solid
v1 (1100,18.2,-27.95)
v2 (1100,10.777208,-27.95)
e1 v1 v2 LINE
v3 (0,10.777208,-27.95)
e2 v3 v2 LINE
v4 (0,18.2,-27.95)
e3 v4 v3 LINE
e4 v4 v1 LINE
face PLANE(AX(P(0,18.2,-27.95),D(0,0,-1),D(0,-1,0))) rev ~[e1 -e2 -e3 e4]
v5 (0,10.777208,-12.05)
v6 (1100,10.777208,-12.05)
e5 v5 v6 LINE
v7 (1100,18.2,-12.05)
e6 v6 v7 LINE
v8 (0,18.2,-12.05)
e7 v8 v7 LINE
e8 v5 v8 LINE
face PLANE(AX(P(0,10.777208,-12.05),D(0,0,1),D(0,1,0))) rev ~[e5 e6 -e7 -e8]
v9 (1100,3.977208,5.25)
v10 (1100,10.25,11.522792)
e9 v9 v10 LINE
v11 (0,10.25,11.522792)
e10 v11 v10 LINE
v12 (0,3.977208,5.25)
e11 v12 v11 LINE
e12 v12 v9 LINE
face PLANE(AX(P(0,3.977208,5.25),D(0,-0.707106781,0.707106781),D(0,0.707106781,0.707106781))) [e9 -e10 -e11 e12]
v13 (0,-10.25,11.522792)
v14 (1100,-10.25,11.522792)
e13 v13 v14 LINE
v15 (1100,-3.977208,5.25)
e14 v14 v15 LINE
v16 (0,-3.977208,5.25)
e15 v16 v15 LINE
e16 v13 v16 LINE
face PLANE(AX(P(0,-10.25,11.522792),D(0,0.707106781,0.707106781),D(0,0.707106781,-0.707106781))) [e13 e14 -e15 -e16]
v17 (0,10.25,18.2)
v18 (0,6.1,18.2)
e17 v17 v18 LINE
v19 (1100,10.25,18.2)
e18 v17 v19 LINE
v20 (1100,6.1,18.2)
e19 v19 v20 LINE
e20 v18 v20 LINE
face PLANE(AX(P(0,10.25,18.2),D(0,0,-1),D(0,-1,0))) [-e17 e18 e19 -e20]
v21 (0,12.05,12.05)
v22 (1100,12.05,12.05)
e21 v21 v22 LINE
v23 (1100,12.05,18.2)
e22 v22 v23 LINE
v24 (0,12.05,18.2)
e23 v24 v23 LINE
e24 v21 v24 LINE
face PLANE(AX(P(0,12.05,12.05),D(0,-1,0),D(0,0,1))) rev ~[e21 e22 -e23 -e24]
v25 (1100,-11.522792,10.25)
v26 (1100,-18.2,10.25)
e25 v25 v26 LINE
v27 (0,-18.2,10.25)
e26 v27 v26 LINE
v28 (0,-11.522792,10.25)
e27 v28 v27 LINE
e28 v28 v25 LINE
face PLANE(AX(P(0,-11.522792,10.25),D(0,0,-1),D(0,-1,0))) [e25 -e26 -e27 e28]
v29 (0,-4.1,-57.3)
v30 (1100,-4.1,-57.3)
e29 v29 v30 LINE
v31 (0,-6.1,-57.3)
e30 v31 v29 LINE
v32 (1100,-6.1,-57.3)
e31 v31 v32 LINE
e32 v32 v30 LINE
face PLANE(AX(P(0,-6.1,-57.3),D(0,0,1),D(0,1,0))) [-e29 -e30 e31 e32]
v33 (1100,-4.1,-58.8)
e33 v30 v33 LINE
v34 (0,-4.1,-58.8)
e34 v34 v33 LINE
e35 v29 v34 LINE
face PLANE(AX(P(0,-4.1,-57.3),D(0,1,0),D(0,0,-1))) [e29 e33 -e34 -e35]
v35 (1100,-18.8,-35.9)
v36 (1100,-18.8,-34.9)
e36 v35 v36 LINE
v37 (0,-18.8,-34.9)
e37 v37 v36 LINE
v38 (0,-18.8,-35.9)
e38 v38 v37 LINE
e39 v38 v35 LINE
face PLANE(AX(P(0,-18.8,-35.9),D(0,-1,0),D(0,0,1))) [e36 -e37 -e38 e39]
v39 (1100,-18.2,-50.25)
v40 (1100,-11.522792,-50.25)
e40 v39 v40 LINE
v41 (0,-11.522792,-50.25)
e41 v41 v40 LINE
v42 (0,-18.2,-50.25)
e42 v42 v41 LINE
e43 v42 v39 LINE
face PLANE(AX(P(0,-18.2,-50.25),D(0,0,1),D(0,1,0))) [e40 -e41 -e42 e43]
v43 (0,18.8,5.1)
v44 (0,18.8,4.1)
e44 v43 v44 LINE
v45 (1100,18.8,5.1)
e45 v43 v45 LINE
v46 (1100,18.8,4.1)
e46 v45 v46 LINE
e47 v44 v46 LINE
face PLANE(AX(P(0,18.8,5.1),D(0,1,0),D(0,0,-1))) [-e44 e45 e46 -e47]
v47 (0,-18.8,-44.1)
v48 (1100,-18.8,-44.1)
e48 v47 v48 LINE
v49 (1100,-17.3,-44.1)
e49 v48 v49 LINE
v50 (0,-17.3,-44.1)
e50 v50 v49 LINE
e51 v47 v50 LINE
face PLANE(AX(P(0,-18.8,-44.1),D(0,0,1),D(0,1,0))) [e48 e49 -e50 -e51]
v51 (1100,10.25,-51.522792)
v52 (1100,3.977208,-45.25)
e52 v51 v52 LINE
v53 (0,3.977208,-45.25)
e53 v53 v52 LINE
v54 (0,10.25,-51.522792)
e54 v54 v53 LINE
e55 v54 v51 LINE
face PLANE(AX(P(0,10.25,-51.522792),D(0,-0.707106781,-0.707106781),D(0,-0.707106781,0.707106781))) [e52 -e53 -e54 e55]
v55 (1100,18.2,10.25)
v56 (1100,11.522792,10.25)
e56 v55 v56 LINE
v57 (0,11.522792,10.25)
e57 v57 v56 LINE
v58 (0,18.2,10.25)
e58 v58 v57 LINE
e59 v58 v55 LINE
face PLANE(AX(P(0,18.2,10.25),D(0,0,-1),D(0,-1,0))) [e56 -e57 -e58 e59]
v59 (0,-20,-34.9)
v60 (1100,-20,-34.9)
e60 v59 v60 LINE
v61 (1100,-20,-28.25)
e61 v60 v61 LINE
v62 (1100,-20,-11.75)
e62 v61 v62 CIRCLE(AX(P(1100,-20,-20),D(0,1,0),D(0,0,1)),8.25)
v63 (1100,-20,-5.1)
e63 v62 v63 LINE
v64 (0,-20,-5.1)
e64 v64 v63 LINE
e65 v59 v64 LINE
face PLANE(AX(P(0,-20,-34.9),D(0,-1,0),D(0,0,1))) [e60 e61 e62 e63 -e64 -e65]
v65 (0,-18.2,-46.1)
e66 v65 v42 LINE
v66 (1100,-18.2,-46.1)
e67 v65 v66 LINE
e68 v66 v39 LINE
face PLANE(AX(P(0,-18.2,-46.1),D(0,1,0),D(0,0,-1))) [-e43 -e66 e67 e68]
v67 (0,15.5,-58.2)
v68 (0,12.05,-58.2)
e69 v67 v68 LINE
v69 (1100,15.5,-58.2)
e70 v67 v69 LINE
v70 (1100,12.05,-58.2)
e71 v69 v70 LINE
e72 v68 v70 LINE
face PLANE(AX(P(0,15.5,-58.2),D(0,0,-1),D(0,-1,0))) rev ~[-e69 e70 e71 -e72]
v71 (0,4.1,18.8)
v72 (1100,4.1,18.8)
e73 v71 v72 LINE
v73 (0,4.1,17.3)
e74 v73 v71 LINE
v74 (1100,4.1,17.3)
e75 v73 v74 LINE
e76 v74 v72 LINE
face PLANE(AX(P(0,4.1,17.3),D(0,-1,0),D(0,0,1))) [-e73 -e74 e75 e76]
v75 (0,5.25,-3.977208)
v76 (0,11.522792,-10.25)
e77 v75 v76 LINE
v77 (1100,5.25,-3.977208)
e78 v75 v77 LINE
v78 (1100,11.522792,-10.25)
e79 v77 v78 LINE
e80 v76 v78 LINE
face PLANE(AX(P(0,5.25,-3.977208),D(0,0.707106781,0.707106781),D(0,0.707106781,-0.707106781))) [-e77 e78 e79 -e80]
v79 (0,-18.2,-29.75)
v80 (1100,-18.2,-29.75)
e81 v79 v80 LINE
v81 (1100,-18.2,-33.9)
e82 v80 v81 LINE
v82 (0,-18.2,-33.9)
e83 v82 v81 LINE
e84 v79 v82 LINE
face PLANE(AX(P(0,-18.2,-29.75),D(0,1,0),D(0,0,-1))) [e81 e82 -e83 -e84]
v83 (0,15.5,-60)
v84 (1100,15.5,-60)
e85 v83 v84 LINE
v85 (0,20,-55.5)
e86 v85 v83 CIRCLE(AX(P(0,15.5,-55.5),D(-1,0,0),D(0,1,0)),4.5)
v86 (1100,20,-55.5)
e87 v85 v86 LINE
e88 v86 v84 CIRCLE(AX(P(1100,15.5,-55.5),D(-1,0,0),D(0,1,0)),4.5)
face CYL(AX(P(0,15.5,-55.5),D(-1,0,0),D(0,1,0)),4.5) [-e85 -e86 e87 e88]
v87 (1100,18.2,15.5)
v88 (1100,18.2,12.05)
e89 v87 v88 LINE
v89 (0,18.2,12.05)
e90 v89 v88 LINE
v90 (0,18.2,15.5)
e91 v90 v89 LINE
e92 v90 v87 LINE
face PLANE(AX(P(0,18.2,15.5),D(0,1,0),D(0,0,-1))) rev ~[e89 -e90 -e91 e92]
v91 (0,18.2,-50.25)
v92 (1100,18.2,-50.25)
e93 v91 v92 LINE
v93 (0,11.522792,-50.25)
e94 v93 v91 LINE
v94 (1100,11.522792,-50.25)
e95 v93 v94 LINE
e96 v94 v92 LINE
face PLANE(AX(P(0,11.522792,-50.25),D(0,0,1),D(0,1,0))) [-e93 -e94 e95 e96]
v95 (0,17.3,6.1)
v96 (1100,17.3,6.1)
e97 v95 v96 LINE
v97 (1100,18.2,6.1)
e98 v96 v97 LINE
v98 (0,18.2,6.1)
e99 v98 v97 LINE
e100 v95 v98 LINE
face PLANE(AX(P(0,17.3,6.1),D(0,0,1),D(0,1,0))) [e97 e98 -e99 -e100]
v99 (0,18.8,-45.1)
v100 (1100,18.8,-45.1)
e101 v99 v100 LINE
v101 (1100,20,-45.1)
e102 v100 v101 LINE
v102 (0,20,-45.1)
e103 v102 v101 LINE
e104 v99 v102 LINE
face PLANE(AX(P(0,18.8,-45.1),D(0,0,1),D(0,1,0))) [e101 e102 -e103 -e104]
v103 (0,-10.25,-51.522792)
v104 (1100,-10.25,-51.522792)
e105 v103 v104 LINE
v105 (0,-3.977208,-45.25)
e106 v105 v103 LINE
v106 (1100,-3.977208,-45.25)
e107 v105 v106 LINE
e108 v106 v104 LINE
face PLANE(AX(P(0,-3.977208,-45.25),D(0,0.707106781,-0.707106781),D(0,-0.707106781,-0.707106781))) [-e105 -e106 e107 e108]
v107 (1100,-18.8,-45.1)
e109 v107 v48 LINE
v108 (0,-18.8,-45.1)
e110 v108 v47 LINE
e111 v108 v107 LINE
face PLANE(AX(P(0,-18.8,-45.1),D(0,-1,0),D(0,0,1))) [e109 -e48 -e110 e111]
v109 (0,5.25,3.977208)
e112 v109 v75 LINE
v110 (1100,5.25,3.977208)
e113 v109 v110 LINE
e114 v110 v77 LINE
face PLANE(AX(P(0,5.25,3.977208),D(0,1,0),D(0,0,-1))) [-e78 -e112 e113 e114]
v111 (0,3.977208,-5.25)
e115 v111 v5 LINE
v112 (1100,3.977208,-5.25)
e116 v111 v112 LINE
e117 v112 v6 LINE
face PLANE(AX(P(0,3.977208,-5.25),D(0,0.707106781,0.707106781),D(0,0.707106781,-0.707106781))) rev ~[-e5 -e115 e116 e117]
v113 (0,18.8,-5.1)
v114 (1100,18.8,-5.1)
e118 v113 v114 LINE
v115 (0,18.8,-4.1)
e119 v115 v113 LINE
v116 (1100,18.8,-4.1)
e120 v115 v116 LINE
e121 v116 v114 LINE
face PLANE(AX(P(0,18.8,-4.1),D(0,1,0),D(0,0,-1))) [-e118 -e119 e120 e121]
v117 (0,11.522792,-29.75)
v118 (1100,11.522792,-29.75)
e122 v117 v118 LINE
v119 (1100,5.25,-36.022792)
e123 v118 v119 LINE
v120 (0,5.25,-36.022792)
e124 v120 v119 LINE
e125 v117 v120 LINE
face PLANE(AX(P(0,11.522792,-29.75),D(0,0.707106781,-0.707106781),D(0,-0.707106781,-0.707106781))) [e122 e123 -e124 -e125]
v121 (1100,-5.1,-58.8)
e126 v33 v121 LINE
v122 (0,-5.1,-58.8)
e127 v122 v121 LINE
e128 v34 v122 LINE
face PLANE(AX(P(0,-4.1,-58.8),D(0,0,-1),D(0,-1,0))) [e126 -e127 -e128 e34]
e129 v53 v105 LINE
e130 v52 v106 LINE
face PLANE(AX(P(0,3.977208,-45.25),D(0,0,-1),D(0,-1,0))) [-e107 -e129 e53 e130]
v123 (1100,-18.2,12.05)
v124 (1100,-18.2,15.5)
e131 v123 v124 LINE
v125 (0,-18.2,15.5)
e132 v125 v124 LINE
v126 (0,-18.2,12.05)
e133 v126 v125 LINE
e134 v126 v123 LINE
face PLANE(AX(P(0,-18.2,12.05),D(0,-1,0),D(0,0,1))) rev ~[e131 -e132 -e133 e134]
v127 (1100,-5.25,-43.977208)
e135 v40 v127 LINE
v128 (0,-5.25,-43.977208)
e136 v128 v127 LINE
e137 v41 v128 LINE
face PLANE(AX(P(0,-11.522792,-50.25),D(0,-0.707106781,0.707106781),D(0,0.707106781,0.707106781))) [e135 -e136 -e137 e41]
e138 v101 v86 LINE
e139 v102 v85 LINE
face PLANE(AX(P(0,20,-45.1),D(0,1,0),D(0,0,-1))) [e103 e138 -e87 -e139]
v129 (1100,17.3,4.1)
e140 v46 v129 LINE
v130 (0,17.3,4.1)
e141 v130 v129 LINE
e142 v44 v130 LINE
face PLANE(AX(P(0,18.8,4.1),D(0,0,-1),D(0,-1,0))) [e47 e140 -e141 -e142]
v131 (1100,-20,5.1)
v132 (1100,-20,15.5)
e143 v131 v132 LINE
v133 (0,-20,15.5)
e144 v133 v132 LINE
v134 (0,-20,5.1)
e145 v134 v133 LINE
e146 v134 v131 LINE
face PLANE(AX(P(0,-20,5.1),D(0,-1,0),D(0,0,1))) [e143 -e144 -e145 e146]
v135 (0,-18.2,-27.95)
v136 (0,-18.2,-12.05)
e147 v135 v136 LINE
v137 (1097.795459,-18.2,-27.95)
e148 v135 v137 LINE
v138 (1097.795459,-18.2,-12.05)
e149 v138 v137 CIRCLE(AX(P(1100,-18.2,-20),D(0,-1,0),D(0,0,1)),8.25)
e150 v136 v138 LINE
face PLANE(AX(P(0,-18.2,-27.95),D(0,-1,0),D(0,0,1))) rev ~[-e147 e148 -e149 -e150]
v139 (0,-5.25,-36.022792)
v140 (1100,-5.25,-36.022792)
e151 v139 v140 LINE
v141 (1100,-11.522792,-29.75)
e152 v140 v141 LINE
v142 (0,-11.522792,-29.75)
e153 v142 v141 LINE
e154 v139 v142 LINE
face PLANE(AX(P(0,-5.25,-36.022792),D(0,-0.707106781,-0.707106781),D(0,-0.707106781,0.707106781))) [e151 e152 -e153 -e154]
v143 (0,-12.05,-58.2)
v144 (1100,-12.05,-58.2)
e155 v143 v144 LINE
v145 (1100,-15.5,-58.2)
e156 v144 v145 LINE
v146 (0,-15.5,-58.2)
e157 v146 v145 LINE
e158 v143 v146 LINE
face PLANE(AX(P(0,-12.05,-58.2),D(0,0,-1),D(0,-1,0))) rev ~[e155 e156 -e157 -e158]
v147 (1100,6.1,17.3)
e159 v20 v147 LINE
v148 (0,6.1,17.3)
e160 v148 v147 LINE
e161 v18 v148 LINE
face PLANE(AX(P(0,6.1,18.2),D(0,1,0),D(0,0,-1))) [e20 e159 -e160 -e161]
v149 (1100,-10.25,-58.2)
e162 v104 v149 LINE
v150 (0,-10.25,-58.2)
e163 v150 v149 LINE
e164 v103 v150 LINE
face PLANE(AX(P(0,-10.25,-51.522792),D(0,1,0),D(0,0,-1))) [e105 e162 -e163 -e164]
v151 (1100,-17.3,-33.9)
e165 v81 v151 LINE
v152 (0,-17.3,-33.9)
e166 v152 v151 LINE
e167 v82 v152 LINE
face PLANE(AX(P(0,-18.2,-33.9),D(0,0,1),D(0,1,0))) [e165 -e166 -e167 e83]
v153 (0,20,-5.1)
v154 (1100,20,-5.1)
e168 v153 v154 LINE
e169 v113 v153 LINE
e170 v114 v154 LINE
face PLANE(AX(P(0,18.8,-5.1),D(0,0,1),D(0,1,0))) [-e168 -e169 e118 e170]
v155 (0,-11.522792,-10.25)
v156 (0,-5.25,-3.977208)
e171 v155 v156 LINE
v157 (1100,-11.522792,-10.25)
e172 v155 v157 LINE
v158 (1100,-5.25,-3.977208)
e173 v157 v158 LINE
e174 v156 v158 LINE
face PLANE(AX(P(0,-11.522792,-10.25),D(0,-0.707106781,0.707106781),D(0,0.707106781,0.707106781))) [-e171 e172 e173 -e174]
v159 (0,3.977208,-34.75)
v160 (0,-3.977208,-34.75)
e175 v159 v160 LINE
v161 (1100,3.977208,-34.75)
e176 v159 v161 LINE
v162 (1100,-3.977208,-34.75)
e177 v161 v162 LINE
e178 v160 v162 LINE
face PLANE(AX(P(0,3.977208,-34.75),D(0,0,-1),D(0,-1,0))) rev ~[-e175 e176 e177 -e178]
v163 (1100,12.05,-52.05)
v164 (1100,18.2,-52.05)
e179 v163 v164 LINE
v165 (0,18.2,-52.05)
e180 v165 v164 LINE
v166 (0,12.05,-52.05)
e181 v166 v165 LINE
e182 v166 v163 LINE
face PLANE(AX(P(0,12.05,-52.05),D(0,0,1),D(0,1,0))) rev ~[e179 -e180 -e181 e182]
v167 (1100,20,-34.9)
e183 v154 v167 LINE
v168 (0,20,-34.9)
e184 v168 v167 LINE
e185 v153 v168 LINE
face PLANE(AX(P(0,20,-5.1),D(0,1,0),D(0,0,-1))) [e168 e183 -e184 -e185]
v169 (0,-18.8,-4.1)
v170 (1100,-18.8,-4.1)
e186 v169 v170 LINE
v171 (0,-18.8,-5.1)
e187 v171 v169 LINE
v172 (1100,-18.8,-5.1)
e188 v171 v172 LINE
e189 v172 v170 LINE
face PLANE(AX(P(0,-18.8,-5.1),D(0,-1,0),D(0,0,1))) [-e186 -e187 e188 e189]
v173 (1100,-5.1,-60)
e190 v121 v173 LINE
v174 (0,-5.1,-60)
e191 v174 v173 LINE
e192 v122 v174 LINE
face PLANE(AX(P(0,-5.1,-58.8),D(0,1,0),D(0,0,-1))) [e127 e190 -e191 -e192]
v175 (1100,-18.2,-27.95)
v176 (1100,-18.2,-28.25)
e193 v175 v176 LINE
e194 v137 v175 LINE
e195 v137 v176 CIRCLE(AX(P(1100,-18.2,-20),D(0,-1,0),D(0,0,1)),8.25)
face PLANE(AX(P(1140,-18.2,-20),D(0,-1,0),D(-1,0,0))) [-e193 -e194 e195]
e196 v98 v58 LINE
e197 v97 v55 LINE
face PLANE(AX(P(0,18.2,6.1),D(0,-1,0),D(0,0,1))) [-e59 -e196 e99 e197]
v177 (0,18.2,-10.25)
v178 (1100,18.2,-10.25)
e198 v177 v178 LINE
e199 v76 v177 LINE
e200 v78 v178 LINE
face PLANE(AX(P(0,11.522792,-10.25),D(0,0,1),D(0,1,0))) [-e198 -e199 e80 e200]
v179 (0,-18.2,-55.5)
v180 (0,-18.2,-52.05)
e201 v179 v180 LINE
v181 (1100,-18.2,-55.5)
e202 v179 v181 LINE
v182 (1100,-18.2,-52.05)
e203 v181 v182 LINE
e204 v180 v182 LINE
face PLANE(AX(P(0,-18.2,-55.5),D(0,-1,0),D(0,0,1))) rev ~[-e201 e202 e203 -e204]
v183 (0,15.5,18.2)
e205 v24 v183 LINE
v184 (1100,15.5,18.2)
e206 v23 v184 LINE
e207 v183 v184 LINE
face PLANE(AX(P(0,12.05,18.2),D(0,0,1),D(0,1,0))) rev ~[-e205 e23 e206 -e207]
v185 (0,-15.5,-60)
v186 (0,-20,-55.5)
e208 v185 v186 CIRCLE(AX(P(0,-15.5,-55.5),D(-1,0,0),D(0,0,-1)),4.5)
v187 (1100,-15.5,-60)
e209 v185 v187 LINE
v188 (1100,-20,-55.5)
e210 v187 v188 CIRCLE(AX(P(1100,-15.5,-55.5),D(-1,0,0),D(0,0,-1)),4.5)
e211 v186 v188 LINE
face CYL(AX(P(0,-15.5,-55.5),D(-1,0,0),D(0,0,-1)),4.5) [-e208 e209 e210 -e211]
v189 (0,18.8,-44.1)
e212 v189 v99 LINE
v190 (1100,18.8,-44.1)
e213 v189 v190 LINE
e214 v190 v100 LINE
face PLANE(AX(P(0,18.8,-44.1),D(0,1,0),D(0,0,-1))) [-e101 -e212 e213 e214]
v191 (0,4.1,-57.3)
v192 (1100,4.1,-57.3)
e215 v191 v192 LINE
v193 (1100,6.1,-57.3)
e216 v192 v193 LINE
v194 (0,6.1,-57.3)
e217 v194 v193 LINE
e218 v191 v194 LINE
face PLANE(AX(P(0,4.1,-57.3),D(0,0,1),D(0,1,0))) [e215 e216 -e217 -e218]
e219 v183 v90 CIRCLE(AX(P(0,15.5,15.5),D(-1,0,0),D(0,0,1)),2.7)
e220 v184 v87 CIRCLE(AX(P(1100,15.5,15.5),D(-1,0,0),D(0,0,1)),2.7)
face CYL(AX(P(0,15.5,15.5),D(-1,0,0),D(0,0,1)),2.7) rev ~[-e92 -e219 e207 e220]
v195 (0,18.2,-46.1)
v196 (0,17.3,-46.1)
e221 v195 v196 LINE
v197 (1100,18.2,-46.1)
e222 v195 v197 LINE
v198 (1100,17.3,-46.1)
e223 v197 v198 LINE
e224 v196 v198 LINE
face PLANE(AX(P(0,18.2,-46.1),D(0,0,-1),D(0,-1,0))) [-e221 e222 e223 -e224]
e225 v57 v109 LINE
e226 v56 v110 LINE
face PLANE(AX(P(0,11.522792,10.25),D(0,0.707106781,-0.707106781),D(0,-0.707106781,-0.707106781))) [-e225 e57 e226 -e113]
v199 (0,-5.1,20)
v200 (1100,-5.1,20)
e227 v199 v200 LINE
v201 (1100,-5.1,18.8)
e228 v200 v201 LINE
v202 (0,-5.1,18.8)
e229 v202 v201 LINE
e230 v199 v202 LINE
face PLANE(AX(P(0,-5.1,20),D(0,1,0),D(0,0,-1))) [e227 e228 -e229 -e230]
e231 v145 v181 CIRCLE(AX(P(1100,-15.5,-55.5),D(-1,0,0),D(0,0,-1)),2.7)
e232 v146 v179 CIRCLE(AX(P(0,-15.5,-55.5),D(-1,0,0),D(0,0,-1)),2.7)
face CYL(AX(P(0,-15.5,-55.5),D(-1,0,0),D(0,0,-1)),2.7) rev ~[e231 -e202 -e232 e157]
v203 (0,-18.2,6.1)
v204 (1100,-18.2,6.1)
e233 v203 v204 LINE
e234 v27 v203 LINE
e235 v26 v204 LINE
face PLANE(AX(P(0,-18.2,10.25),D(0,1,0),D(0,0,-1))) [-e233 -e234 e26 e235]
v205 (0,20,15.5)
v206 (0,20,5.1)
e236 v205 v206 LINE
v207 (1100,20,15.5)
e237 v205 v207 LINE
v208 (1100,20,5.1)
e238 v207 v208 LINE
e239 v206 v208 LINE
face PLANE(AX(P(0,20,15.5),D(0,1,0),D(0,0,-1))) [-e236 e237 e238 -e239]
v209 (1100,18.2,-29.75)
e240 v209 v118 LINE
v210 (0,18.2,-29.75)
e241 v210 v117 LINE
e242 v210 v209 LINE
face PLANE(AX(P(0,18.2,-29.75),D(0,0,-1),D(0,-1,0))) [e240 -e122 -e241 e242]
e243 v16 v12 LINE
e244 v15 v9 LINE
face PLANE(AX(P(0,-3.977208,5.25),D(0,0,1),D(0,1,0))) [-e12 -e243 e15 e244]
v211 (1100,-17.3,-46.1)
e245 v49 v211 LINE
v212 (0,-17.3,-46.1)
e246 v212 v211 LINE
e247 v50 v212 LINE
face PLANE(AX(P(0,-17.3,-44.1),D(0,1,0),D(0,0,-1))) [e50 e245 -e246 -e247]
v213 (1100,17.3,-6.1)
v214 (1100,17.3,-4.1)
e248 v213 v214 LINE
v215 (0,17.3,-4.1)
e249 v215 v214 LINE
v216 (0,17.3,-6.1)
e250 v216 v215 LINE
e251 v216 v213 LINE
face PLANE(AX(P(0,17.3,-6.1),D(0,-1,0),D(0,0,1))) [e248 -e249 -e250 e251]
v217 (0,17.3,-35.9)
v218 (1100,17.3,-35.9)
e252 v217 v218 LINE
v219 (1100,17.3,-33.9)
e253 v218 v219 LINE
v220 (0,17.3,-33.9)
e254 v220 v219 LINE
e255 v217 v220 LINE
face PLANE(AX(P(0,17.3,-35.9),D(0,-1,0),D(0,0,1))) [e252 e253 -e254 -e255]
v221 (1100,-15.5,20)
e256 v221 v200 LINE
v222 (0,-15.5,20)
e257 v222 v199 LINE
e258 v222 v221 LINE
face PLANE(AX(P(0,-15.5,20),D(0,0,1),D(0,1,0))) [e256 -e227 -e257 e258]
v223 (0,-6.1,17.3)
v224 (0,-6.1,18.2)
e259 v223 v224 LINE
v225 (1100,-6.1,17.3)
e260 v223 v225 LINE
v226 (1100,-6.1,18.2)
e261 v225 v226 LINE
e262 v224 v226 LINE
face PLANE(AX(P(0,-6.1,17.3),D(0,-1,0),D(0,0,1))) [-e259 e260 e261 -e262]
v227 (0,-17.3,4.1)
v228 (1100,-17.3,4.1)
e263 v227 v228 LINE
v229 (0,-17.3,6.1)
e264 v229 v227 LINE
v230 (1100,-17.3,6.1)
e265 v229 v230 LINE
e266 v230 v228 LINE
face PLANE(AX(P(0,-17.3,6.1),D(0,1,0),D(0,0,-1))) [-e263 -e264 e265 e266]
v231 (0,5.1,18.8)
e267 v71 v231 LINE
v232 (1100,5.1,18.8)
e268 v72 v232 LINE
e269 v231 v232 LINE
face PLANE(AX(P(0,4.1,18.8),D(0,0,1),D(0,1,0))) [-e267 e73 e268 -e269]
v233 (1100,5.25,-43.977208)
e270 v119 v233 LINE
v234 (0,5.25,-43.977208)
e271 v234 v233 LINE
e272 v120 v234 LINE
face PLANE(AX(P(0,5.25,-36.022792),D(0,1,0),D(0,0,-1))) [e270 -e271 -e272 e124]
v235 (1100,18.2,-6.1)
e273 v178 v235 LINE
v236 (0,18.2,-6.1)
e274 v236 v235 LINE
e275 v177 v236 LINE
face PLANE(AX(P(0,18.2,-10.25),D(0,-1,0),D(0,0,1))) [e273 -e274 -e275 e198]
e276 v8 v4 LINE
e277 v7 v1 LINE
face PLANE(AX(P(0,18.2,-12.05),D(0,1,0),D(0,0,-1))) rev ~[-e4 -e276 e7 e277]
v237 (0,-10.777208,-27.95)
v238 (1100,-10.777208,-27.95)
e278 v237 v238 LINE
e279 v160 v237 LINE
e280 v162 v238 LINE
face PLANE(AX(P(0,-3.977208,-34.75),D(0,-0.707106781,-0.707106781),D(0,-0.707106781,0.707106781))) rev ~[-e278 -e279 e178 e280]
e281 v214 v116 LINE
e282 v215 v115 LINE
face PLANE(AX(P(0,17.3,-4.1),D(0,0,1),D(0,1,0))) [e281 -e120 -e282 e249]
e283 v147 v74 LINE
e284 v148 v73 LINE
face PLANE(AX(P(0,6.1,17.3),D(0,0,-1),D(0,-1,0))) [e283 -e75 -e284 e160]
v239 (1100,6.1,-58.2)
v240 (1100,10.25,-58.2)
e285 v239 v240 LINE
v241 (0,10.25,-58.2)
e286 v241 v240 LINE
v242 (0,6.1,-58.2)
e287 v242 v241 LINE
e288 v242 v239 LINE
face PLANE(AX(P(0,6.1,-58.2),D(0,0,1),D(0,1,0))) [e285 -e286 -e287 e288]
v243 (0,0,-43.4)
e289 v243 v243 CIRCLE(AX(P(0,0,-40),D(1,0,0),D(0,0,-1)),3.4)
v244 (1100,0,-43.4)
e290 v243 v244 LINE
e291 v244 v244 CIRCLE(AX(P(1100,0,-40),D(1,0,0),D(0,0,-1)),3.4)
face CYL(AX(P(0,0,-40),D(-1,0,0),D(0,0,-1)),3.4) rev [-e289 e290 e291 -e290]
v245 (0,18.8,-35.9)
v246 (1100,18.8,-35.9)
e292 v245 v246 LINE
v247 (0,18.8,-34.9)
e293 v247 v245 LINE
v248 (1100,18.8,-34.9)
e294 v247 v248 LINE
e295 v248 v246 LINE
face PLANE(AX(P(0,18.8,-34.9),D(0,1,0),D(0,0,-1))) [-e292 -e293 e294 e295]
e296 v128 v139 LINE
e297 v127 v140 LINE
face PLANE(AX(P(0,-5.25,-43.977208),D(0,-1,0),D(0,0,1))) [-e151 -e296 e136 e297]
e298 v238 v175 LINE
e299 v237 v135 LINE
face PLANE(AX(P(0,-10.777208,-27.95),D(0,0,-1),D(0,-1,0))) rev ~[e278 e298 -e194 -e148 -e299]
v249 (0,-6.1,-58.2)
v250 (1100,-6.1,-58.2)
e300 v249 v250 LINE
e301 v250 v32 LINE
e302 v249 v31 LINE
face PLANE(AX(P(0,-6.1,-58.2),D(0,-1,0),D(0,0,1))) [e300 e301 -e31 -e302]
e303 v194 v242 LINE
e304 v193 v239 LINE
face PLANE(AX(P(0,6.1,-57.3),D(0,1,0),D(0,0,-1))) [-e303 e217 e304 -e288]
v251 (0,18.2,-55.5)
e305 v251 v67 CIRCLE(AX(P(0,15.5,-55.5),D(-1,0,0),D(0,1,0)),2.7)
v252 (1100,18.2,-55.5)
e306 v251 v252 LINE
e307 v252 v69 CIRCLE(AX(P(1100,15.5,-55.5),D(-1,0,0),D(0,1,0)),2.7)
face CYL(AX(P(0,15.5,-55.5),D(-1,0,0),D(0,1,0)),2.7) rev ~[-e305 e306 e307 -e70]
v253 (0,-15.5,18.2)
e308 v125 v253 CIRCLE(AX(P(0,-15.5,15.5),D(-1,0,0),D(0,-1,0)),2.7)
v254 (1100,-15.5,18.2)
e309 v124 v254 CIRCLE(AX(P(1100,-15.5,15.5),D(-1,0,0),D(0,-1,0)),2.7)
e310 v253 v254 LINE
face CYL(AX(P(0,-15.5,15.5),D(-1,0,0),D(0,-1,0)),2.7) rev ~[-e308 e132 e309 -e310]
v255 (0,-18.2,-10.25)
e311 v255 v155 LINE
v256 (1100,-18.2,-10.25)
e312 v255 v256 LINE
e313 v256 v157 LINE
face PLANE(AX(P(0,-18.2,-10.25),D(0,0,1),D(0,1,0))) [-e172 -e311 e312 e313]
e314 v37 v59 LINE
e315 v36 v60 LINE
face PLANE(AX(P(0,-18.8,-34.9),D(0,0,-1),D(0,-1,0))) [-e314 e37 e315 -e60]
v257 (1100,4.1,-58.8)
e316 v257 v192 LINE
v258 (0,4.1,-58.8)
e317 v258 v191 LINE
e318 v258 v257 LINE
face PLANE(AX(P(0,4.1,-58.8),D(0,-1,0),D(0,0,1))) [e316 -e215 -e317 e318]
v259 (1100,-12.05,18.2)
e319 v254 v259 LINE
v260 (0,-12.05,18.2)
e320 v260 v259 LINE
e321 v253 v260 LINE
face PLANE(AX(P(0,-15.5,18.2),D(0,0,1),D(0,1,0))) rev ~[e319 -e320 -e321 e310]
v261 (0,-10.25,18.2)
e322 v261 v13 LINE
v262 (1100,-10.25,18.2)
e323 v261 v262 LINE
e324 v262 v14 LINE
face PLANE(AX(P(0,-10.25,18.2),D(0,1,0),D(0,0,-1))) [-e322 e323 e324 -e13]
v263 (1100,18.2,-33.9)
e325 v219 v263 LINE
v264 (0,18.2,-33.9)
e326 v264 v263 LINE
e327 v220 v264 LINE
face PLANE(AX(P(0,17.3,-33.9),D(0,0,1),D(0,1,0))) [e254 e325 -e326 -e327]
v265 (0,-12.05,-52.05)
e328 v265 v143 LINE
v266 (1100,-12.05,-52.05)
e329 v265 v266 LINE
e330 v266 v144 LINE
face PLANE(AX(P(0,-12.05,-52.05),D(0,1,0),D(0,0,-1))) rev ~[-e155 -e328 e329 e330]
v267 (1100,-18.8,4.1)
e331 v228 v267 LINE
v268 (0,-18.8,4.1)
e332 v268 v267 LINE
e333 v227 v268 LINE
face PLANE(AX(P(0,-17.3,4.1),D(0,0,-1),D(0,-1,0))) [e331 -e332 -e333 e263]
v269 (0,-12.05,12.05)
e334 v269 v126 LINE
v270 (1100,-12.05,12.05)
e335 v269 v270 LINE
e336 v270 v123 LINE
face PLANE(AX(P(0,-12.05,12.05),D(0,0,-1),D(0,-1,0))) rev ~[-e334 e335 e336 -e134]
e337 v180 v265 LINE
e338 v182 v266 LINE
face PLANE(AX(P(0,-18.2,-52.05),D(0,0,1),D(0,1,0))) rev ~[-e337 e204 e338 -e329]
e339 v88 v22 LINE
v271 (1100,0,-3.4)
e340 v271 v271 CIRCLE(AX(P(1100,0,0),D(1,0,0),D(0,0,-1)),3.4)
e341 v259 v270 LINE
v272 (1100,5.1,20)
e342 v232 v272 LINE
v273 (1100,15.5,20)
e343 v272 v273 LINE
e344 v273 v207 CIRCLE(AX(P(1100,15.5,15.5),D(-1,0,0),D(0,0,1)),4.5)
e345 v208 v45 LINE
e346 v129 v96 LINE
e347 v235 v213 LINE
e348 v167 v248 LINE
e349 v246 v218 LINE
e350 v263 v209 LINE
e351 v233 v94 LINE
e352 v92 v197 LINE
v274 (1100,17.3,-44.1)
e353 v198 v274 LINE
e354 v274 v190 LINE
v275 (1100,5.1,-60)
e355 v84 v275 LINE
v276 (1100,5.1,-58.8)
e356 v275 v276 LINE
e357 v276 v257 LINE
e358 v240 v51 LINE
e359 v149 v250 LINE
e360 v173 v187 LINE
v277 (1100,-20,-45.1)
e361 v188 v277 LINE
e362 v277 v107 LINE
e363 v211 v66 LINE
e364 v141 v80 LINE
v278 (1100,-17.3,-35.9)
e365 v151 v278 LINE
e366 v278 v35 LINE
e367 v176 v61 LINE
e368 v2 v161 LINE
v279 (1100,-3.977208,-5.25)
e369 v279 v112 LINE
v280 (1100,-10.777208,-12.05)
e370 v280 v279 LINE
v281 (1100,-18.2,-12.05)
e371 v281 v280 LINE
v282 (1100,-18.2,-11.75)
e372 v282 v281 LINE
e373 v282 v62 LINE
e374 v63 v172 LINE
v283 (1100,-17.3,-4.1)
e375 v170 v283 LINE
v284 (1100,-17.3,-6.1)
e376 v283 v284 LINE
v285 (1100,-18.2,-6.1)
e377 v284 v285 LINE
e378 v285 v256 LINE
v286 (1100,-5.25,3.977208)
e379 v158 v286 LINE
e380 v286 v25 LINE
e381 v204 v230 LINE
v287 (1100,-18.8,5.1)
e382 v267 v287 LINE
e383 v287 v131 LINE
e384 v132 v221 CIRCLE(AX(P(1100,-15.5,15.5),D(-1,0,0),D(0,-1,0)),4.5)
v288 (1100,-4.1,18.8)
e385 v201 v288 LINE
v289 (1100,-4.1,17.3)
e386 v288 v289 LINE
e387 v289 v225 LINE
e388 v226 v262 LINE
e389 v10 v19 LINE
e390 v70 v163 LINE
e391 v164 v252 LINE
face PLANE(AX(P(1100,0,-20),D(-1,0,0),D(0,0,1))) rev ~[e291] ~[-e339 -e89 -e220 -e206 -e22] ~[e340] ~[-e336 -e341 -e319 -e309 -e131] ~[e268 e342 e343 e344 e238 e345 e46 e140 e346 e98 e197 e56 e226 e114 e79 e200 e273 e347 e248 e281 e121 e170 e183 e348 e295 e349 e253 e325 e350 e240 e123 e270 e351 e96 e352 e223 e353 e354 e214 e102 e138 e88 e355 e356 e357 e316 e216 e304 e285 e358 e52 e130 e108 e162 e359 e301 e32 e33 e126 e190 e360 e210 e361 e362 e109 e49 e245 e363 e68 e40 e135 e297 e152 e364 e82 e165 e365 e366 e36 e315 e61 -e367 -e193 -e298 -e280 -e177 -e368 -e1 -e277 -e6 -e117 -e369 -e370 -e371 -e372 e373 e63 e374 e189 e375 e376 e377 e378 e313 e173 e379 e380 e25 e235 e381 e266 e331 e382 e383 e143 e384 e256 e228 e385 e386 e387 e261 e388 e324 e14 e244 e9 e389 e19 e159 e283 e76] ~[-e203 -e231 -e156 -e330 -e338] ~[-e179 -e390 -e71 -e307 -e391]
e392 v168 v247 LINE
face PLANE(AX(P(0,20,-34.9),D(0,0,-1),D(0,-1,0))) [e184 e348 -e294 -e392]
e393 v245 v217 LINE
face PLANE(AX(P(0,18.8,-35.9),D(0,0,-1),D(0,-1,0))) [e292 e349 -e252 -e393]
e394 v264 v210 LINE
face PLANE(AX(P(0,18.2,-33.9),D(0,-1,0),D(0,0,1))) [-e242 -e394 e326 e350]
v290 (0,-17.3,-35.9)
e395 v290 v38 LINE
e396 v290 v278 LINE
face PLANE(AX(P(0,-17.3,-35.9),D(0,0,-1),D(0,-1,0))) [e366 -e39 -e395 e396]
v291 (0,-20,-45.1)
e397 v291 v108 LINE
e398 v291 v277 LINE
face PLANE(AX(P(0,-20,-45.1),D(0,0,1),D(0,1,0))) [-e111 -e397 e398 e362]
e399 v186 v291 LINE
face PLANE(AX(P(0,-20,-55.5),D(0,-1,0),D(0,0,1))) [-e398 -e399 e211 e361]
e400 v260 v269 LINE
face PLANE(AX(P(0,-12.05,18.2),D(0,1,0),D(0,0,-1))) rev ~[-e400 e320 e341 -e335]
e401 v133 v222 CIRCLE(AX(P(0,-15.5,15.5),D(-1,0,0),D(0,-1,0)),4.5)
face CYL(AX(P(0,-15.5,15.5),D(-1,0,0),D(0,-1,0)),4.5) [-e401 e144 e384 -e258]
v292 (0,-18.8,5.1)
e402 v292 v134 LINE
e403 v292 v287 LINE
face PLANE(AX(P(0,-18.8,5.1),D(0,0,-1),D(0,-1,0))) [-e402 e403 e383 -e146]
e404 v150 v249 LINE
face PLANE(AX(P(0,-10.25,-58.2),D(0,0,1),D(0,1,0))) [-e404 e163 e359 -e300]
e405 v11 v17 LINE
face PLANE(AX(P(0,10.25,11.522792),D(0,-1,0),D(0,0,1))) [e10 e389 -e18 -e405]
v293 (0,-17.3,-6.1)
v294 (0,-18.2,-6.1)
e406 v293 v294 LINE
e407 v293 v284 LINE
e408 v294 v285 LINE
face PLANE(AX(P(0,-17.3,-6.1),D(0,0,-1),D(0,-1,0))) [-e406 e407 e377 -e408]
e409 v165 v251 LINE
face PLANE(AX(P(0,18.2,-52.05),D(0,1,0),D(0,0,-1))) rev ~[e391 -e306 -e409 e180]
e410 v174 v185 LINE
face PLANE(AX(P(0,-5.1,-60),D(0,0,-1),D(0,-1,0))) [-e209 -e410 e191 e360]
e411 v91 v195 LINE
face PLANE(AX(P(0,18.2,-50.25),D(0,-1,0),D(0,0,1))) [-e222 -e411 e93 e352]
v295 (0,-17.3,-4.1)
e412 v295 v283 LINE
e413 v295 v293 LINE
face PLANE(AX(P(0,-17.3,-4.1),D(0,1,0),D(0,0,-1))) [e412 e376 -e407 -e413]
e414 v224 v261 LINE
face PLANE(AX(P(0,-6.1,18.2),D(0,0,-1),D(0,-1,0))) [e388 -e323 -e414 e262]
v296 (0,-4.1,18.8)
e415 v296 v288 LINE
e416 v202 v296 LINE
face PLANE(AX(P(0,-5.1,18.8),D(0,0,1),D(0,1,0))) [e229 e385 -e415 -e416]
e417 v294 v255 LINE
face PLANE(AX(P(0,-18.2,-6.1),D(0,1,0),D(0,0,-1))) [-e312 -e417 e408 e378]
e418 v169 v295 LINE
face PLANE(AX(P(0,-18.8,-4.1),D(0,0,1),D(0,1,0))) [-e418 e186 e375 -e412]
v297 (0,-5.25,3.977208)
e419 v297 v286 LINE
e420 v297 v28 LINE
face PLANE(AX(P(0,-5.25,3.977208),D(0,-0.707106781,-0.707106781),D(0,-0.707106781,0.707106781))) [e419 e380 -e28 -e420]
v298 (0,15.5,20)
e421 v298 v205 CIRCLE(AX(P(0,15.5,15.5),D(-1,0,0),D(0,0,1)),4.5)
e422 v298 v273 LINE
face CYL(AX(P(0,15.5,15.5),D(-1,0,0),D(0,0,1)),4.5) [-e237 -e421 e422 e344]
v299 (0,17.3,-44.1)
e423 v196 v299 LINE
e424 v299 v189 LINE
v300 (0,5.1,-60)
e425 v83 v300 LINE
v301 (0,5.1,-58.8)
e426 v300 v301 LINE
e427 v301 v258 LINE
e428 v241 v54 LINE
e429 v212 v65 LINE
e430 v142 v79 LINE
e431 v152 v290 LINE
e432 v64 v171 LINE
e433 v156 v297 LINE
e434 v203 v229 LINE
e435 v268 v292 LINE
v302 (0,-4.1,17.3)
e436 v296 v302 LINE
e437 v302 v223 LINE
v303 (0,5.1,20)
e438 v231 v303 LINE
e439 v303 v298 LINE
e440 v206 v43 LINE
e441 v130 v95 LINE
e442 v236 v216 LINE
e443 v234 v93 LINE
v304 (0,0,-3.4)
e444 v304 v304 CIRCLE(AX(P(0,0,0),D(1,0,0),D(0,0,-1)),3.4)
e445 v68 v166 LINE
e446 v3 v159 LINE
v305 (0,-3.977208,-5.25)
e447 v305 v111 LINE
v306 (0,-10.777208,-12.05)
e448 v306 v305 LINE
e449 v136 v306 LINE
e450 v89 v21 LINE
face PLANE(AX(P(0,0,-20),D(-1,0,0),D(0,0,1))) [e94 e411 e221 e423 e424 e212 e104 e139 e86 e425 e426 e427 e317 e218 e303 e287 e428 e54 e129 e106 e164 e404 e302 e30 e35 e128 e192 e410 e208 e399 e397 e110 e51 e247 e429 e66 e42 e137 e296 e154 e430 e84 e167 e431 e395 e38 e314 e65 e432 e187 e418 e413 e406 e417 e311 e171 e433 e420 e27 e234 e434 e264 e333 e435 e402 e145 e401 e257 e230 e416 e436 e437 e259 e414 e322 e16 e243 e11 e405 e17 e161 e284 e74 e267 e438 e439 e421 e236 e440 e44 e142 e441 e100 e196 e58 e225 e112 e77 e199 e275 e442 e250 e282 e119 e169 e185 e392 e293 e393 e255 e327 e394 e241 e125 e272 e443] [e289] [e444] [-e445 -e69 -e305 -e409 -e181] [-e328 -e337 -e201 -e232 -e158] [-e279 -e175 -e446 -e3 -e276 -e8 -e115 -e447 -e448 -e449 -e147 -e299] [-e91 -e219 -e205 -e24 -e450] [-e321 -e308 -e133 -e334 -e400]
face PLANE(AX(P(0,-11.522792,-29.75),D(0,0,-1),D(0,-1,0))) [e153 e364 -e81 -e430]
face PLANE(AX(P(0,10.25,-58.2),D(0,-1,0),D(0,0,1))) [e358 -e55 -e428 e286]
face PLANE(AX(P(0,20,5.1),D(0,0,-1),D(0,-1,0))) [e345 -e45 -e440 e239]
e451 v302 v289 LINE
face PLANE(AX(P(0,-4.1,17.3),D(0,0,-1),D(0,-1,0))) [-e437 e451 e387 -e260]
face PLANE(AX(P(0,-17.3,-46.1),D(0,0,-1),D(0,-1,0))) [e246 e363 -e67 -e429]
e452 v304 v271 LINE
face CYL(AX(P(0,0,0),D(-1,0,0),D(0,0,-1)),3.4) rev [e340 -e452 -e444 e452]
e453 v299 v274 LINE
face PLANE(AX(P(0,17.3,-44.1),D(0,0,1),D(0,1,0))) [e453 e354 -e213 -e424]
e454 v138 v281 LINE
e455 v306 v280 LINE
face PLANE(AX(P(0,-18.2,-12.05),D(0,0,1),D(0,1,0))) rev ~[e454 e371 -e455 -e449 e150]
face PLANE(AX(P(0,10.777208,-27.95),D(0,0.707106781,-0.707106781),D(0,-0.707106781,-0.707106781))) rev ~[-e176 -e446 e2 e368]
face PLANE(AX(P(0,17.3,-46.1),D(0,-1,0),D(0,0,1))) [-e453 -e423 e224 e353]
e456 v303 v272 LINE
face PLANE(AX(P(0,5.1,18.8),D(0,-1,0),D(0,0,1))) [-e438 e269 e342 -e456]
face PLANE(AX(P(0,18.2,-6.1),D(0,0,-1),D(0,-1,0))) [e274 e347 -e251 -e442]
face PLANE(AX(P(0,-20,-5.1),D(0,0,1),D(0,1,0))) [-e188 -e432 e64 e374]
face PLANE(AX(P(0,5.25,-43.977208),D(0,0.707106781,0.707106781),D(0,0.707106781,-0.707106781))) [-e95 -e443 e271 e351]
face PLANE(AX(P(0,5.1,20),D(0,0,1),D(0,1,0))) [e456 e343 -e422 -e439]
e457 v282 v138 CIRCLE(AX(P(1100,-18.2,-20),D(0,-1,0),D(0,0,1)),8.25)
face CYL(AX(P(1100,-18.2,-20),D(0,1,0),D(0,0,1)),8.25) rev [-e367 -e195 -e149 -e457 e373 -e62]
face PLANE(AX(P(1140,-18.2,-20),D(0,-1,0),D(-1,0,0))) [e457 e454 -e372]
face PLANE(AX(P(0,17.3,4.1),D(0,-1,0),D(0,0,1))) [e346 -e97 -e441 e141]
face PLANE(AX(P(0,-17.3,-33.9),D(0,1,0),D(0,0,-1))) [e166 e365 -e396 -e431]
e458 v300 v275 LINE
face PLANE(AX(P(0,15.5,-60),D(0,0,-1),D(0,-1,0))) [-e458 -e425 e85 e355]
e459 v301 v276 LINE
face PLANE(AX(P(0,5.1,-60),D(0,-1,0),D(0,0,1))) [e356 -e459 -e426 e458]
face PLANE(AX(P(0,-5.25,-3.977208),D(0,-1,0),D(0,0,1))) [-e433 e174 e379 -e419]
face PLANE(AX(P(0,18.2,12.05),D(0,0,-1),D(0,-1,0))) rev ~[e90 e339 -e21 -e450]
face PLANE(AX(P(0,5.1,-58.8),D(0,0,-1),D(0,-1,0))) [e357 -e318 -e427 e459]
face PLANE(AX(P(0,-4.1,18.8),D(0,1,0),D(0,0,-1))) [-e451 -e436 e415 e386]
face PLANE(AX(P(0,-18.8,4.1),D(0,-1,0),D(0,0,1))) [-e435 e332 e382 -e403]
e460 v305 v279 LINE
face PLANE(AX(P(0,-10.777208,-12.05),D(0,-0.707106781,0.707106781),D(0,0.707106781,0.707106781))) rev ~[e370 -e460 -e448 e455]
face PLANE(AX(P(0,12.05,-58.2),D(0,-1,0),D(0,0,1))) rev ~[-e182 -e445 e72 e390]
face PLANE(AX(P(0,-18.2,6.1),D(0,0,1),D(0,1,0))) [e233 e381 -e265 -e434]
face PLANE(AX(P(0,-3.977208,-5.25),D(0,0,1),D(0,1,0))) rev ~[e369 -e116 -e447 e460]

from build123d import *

# Parameters (mm, degrees)
SKETCH_110_R                     = 3.4
MEMBER_4080_2_0_4080_2_0_1_DEPTH = 1100
CUT_EXTRUDE_1_REACH              = 1104.297


with BuildPart() as part:
    # 草图110 → Member 4080-_2.0 _4080-_2.0_1 (new body)
    with BuildSketch(Plane(origin=(0, 0, 0), x_dir=(0, 0, -1), z_dir=(1, 0, 0))):
        with BuildLine():
            Line((-5.25, -3.977207794), (-5.25, 3.977207794))
            Line((-5.25, 3.977207794), (-11.522792206, 10.25))
            Line((-11.522792206, 10.25), (-18.2, 10.25))
            Line((-18.2, 10.25), (-18.2, 6.1))
            Line((-18.2, 6.1), (-17.3, 6.1))
            Line((-17.3, 6.1), (-17.3, 4.1))
            Line((-17.3, 4.1), (-18.8, 4.1))
            Line((-18.8, 4.1), (-18.8, 5.1))
            Line((-18.8, 5.1), (-20, 5.1))
            Line((-20, 5.1), (-20, 15.5))
            ThreePointArc((-20, 15.5), (-18.681980515, 18.681980515), (-15.5, 20))
            Line((-15.5, 20), (-5.1, 20))
            Line((-5.1, 20), (-5.1, 18.8))
            Line((-5.1, 18.8), (-4.1, 18.8))
            Line((-4.1, 18.8), (-4.1, 17.3))
            Line((-4.1, 17.3), (-6.1, 17.3))
            Line((-6.1, 17.3), (-6.1, 18.2))
            Line((-6.1, 18.2), (-10.25, 18.2))
            Line((-10.25, 18.2), (-10.25, 11.522792206))
            Line((-10.25, 11.522792206), (-3.977207794, 5.25))
            Line((-3.977207794, 5.25), (3.977207794, 5.25))
            Line((3.977207794, 5.25), (10.25, 11.522792206))
            Line((10.25, 11.522792206), (10.25, 18.2))
            Line((10.25, 18.2), (6.1, 18.2))
            Line((6.1, 18.2), (6.1, 17.3))
            Line((6.1, 17.3), (4.1, 17.3))
            Line((4.1, 17.3), (4.1, 18.8))
            Line((4.1, 18.8), (5.1, 18.8))
            Line((5.1, 18.8), (5.1, 20))
            Line((5.1, 20), (15.5, 20))
            Line((15.5, 20), (24.5, 20))
            Line((24.5, 20), (34.9, 20))
            Line((34.9, 20), (34.9, 18.8))
            Line((34.9, 18.8), (35.9, 18.8))
            Line((35.9, 18.8), (35.9, 17.3))
            Line((35.9, 17.3), (33.9, 17.3))
            Line((33.9, 17.3), (33.9, 18.2))
            Line((33.9, 18.2), (29.75, 18.2))
            Line((29.75, 18.2), (29.75, 11.522792206))
            Line((29.75, 11.522792206), (36.022792206, 5.25))
            Line((36.022792206, 5.25), (43.977207794, 5.25))
            Line((43.977207794, 5.25), (50.25, 11.522792206))
            Line((50.25, 11.522792206), (50.25, 18.2))
            Line((50.25, 18.2), (46.1, 18.2))
            Line((46.1, 18.2), (46.1, 17.3))
            Line((46.1, 17.3), (44.1, 17.3))
            Line((44.1, 17.3), (44.1, 18.8))
            Line((44.1, 18.8), (45.1, 18.8))
            Line((45.1, 18.8), (45.1, 20))
            Line((45.1, 20), (55.5, 20))
            ThreePointArc((55.5, 20), (58.681980515, 18.681980515), (60, 15.5))
            Line((60, 15.5), (60, 5.1))
            Line((60, 5.1), (58.8, 5.1))
            Line((58.8, 5.1), (58.8, 4.1))
            Line((58.8, 4.1), (57.3, 4.1))
            Line((57.3, 4.1), (57.3, 6.1))
            Line((57.3, 6.1), (58.2, 6.1))
            Line((58.2, 6.1), (58.2, 10.25))
            Line((58.2, 10.25), (51.522792206, 10.25))
            Line((51.522792206, 10.25), (45.25, 3.977207794))
            Line((45.25, 3.977207794), (45.25, -3.977207794))
            Line((45.25, -3.977207794), (51.522792206, -10.25))
            Line((51.522792206, -10.25), (58.2, -10.25))
            Line((58.2, -10.25), (58.2, -6.1))
            Line((58.2, -6.1), (57.3, -6.1))
            Line((57.3, -6.1), (57.3, -4.1))
            Line((57.3, -4.1), (58.8, -4.1))
            Line((58.8, -4.1), (58.8, -5.1))
            Line((58.8, -5.1), (60, -5.1))
            Line((60, -5.1), (60, -15.5))
            ThreePointArc((60, -15.5), (58.681980515, -18.681980515), (55.5, -20))
            Line((55.5, -20), (45.1, -20))
            Line((45.1, -20), (45.1, -18.8))
            Line((45.1, -18.8), (44.1, -18.8))
            Line((44.1, -18.8), (44.1, -17.3))
            Line((44.1, -17.3), (46.1, -17.3))
            Line((46.1, -17.3), (46.1, -18.2))
            Line((46.1, -18.2), (50.25, -18.2))
            Line((50.25, -18.2), (50.25, -11.522792206))
            Line((50.25, -11.522792206), (43.977207794, -5.25))
            Line((43.977207794, -5.25), (36.022792206, -5.25))
            Line((36.022792206, -5.25), (29.75, -11.522792206))
            Line((29.75, -11.522792206), (29.75, -18.2))
            Line((29.75, -18.2), (33.9, -18.2))
            Line((33.9, -18.2), (33.9, -17.3))
            Line((33.9, -17.3), (35.9, -17.3))
            Line((35.9, -17.3), (35.9, -18.8))
            Line((35.9, -18.8), (34.9, -18.8))
            Line((34.9, -18.8), (34.9, -20))
            Line((34.9, -20), (24.5, -20))
            Line((24.5, -20), (15.5, -20))
            Line((15.5, -20), (5.1, -20))
            Line((5.1, -20), (5.1, -18.8))
            Line((5.1, -18.8), (4.1, -18.8))
            Line((4.1, -18.8), (4.1, -17.3))
            Line((4.1, -17.3), (6.1, -17.3))
            Line((6.1, -17.3), (6.1, -18.2))
            Line((6.1, -18.2), (10.25, -18.2))
            Line((10.25, -18.2), (10.25, -11.522792206))
            Line((10.25, -11.522792206), (3.977207794, -5.25))
            Line((3.977207794, -5.25), (-3.977207794, -5.25))
            Line((-3.977207794, -5.25), (-10.25, -11.522792206))
            Line((-10.25, -11.522792206), (-10.25, -18.2))
            Line((-10.25, -18.2), (-6.1, -18.2))
            Line((-6.1, -18.2), (-6.1, -17.3))
            Line((-6.1, -17.3), (-4.1, -17.3))
            Line((-4.1, -17.3), (-4.1, -18.8))
            Line((-4.1, -18.8), (-5.1, -18.8))
            Line((-5.1, -18.8), (-5.1, -20))
            Line((-5.1, -20), (-15.5, -20))
            ThreePointArc((-15.5, -20), (-18.681980515, -18.681980515), (-20, -15.5))
            Line((-20, -15.5), (-20, -5.1))
            Line((-20, -5.1), (-18.8, -5.1))
            Line((-18.8, -5.1), (-18.8, -4.1))
            Line((-18.8, -4.1), (-17.3, -4.1))
            Line((-17.3, -4.1), (-17.3, -6.1))
            Line((-17.3, -6.1), (-18.2, -6.1))
            Line((-18.2, -6.1), (-18.2, -10.25))
            Line((-18.2, -10.25), (-11.522792206, -10.25))
            Line((-11.522792206, -10.25), (-5.25, -3.977207794))
        make_face()
        Circle(SKETCH_110_R, mode=Mode.SUBTRACT)
        with Locations((40, 0)):
            Circle(SKETCH_110_R, mode=Mode.SUBTRACT)
        with BuildLine():
            Line((-12.05, 12.05), (-18.2, 12.05))
            Line((-18.2, 12.05), (-18.2, 15.5))
            ThreePointArc((-18.2, 15.5), (-17.409188309, 17.409188309), (-15.5, 18.2))
            Line((-15.5, 18.2), (-12.05, 18.2))
            Line((-12.05, 18.2), (-12.05, 12.05))
        make_face(mode=Mode.SUBTRACT)
        Polygon((5.25, 3.977207794), (11.522792206, 10.25), (12.05, 10.777207794), (12.05, 12.05), (12.05, 18.2), (15.5, 18.2), (24.5, 18.2), (27.95, 18.2), (27.95, 12.05), (27.95, 10.777207794), (28.477207794, 10.25), (34.75, 3.977207794), (34.75, -3.977207794), (28.477207794, -10.25), (27.95, -10.777207794), (27.95, -12.05), (27.95, -18.2), (24.5, -18.2), (15.5, -18.2), (12.05, -18.2), (12.05, -12.05), (12.05, -10.777207794), (11.522792206, -10.25), (5.25, -3.977207794), align=None, mode=Mode.SUBTRACT)
        with BuildLine():
            Line((-12.05, -12.05), (-12.05, -18.2))
            Line((-12.05, -18.2), (-15.5, -18.2))
            ThreePointArc((-15.5, -18.2), (-17.409188309, -17.409188309), (-18.2, -15.5))
            Line((-18.2, -15.5), (-18.2, -12.05))
            Line((-18.2, -12.05), (-12.05, -12.05))
        make_face(mode=Mode.SUBTRACT)
        with BuildLine():
            Line((52.05, -12.05), (58.2, -12.05))
            Line((58.2, -12.05), (58.2, -15.5))
            ThreePointArc((58.2, -15.5), (57.409188309, -17.409188309), (55.5, -18.2))
            Line((55.5, -18.2), (52.05, -18.2))
            Line((52.05, -18.2), (52.05, -12.05))
        make_face(mode=Mode.SUBTRACT)
        with BuildLine():
            Line((52.05, 12.05), (52.05, 18.2))
            Line((52.05, 18.2), (55.5, 18.2))
            ThreePointArc((55.5, 18.2), (57.409188309, 17.409188309), (58.2, 15.5))
            Line((58.2, 15.5), (58.2, 12.05))
            Line((58.2, 12.05), (52.05, 12.05))
        make_face(mode=Mode.SUBTRACT)
    extrude(amount=MEMBER_4080_2_0_4080_2_0_1_DEPTH)

    # 草图13 → 切除-拉伸1 (cut, up to next)
    with BuildSketch(Plane(origin=(0, -18.2, 0), x_dir=(1, 0, 0), z_dir=(0, 1, 0)), mode=Mode.PRIVATE) as cut_extrude_1_sk1:
        with BuildLine():
            Line((1180, 11.75), (1100, 11.75))
            ThreePointArc((1100, 11.75), (1091.75, 20), (1100, 28.25))
            Line((1100, 28.25), (1180, 28.25))
            ThreePointArc((1180, 28.25), (1188.25, 20), (1180, 11.75))
        make_face()
    cut_extrude_1_tool1 = extrude(cut_extrude_1_sk1.sketch, amount=-CUT_EXTRUDE_1_REACH, mode=Mode.PRIVATE) & part.part
    add(cut_extrude_1_tool1.solids().sort_by_distance((1140, -18.2, -20))[0], mode=Mode.SUBTRACT)


solid = part.part
